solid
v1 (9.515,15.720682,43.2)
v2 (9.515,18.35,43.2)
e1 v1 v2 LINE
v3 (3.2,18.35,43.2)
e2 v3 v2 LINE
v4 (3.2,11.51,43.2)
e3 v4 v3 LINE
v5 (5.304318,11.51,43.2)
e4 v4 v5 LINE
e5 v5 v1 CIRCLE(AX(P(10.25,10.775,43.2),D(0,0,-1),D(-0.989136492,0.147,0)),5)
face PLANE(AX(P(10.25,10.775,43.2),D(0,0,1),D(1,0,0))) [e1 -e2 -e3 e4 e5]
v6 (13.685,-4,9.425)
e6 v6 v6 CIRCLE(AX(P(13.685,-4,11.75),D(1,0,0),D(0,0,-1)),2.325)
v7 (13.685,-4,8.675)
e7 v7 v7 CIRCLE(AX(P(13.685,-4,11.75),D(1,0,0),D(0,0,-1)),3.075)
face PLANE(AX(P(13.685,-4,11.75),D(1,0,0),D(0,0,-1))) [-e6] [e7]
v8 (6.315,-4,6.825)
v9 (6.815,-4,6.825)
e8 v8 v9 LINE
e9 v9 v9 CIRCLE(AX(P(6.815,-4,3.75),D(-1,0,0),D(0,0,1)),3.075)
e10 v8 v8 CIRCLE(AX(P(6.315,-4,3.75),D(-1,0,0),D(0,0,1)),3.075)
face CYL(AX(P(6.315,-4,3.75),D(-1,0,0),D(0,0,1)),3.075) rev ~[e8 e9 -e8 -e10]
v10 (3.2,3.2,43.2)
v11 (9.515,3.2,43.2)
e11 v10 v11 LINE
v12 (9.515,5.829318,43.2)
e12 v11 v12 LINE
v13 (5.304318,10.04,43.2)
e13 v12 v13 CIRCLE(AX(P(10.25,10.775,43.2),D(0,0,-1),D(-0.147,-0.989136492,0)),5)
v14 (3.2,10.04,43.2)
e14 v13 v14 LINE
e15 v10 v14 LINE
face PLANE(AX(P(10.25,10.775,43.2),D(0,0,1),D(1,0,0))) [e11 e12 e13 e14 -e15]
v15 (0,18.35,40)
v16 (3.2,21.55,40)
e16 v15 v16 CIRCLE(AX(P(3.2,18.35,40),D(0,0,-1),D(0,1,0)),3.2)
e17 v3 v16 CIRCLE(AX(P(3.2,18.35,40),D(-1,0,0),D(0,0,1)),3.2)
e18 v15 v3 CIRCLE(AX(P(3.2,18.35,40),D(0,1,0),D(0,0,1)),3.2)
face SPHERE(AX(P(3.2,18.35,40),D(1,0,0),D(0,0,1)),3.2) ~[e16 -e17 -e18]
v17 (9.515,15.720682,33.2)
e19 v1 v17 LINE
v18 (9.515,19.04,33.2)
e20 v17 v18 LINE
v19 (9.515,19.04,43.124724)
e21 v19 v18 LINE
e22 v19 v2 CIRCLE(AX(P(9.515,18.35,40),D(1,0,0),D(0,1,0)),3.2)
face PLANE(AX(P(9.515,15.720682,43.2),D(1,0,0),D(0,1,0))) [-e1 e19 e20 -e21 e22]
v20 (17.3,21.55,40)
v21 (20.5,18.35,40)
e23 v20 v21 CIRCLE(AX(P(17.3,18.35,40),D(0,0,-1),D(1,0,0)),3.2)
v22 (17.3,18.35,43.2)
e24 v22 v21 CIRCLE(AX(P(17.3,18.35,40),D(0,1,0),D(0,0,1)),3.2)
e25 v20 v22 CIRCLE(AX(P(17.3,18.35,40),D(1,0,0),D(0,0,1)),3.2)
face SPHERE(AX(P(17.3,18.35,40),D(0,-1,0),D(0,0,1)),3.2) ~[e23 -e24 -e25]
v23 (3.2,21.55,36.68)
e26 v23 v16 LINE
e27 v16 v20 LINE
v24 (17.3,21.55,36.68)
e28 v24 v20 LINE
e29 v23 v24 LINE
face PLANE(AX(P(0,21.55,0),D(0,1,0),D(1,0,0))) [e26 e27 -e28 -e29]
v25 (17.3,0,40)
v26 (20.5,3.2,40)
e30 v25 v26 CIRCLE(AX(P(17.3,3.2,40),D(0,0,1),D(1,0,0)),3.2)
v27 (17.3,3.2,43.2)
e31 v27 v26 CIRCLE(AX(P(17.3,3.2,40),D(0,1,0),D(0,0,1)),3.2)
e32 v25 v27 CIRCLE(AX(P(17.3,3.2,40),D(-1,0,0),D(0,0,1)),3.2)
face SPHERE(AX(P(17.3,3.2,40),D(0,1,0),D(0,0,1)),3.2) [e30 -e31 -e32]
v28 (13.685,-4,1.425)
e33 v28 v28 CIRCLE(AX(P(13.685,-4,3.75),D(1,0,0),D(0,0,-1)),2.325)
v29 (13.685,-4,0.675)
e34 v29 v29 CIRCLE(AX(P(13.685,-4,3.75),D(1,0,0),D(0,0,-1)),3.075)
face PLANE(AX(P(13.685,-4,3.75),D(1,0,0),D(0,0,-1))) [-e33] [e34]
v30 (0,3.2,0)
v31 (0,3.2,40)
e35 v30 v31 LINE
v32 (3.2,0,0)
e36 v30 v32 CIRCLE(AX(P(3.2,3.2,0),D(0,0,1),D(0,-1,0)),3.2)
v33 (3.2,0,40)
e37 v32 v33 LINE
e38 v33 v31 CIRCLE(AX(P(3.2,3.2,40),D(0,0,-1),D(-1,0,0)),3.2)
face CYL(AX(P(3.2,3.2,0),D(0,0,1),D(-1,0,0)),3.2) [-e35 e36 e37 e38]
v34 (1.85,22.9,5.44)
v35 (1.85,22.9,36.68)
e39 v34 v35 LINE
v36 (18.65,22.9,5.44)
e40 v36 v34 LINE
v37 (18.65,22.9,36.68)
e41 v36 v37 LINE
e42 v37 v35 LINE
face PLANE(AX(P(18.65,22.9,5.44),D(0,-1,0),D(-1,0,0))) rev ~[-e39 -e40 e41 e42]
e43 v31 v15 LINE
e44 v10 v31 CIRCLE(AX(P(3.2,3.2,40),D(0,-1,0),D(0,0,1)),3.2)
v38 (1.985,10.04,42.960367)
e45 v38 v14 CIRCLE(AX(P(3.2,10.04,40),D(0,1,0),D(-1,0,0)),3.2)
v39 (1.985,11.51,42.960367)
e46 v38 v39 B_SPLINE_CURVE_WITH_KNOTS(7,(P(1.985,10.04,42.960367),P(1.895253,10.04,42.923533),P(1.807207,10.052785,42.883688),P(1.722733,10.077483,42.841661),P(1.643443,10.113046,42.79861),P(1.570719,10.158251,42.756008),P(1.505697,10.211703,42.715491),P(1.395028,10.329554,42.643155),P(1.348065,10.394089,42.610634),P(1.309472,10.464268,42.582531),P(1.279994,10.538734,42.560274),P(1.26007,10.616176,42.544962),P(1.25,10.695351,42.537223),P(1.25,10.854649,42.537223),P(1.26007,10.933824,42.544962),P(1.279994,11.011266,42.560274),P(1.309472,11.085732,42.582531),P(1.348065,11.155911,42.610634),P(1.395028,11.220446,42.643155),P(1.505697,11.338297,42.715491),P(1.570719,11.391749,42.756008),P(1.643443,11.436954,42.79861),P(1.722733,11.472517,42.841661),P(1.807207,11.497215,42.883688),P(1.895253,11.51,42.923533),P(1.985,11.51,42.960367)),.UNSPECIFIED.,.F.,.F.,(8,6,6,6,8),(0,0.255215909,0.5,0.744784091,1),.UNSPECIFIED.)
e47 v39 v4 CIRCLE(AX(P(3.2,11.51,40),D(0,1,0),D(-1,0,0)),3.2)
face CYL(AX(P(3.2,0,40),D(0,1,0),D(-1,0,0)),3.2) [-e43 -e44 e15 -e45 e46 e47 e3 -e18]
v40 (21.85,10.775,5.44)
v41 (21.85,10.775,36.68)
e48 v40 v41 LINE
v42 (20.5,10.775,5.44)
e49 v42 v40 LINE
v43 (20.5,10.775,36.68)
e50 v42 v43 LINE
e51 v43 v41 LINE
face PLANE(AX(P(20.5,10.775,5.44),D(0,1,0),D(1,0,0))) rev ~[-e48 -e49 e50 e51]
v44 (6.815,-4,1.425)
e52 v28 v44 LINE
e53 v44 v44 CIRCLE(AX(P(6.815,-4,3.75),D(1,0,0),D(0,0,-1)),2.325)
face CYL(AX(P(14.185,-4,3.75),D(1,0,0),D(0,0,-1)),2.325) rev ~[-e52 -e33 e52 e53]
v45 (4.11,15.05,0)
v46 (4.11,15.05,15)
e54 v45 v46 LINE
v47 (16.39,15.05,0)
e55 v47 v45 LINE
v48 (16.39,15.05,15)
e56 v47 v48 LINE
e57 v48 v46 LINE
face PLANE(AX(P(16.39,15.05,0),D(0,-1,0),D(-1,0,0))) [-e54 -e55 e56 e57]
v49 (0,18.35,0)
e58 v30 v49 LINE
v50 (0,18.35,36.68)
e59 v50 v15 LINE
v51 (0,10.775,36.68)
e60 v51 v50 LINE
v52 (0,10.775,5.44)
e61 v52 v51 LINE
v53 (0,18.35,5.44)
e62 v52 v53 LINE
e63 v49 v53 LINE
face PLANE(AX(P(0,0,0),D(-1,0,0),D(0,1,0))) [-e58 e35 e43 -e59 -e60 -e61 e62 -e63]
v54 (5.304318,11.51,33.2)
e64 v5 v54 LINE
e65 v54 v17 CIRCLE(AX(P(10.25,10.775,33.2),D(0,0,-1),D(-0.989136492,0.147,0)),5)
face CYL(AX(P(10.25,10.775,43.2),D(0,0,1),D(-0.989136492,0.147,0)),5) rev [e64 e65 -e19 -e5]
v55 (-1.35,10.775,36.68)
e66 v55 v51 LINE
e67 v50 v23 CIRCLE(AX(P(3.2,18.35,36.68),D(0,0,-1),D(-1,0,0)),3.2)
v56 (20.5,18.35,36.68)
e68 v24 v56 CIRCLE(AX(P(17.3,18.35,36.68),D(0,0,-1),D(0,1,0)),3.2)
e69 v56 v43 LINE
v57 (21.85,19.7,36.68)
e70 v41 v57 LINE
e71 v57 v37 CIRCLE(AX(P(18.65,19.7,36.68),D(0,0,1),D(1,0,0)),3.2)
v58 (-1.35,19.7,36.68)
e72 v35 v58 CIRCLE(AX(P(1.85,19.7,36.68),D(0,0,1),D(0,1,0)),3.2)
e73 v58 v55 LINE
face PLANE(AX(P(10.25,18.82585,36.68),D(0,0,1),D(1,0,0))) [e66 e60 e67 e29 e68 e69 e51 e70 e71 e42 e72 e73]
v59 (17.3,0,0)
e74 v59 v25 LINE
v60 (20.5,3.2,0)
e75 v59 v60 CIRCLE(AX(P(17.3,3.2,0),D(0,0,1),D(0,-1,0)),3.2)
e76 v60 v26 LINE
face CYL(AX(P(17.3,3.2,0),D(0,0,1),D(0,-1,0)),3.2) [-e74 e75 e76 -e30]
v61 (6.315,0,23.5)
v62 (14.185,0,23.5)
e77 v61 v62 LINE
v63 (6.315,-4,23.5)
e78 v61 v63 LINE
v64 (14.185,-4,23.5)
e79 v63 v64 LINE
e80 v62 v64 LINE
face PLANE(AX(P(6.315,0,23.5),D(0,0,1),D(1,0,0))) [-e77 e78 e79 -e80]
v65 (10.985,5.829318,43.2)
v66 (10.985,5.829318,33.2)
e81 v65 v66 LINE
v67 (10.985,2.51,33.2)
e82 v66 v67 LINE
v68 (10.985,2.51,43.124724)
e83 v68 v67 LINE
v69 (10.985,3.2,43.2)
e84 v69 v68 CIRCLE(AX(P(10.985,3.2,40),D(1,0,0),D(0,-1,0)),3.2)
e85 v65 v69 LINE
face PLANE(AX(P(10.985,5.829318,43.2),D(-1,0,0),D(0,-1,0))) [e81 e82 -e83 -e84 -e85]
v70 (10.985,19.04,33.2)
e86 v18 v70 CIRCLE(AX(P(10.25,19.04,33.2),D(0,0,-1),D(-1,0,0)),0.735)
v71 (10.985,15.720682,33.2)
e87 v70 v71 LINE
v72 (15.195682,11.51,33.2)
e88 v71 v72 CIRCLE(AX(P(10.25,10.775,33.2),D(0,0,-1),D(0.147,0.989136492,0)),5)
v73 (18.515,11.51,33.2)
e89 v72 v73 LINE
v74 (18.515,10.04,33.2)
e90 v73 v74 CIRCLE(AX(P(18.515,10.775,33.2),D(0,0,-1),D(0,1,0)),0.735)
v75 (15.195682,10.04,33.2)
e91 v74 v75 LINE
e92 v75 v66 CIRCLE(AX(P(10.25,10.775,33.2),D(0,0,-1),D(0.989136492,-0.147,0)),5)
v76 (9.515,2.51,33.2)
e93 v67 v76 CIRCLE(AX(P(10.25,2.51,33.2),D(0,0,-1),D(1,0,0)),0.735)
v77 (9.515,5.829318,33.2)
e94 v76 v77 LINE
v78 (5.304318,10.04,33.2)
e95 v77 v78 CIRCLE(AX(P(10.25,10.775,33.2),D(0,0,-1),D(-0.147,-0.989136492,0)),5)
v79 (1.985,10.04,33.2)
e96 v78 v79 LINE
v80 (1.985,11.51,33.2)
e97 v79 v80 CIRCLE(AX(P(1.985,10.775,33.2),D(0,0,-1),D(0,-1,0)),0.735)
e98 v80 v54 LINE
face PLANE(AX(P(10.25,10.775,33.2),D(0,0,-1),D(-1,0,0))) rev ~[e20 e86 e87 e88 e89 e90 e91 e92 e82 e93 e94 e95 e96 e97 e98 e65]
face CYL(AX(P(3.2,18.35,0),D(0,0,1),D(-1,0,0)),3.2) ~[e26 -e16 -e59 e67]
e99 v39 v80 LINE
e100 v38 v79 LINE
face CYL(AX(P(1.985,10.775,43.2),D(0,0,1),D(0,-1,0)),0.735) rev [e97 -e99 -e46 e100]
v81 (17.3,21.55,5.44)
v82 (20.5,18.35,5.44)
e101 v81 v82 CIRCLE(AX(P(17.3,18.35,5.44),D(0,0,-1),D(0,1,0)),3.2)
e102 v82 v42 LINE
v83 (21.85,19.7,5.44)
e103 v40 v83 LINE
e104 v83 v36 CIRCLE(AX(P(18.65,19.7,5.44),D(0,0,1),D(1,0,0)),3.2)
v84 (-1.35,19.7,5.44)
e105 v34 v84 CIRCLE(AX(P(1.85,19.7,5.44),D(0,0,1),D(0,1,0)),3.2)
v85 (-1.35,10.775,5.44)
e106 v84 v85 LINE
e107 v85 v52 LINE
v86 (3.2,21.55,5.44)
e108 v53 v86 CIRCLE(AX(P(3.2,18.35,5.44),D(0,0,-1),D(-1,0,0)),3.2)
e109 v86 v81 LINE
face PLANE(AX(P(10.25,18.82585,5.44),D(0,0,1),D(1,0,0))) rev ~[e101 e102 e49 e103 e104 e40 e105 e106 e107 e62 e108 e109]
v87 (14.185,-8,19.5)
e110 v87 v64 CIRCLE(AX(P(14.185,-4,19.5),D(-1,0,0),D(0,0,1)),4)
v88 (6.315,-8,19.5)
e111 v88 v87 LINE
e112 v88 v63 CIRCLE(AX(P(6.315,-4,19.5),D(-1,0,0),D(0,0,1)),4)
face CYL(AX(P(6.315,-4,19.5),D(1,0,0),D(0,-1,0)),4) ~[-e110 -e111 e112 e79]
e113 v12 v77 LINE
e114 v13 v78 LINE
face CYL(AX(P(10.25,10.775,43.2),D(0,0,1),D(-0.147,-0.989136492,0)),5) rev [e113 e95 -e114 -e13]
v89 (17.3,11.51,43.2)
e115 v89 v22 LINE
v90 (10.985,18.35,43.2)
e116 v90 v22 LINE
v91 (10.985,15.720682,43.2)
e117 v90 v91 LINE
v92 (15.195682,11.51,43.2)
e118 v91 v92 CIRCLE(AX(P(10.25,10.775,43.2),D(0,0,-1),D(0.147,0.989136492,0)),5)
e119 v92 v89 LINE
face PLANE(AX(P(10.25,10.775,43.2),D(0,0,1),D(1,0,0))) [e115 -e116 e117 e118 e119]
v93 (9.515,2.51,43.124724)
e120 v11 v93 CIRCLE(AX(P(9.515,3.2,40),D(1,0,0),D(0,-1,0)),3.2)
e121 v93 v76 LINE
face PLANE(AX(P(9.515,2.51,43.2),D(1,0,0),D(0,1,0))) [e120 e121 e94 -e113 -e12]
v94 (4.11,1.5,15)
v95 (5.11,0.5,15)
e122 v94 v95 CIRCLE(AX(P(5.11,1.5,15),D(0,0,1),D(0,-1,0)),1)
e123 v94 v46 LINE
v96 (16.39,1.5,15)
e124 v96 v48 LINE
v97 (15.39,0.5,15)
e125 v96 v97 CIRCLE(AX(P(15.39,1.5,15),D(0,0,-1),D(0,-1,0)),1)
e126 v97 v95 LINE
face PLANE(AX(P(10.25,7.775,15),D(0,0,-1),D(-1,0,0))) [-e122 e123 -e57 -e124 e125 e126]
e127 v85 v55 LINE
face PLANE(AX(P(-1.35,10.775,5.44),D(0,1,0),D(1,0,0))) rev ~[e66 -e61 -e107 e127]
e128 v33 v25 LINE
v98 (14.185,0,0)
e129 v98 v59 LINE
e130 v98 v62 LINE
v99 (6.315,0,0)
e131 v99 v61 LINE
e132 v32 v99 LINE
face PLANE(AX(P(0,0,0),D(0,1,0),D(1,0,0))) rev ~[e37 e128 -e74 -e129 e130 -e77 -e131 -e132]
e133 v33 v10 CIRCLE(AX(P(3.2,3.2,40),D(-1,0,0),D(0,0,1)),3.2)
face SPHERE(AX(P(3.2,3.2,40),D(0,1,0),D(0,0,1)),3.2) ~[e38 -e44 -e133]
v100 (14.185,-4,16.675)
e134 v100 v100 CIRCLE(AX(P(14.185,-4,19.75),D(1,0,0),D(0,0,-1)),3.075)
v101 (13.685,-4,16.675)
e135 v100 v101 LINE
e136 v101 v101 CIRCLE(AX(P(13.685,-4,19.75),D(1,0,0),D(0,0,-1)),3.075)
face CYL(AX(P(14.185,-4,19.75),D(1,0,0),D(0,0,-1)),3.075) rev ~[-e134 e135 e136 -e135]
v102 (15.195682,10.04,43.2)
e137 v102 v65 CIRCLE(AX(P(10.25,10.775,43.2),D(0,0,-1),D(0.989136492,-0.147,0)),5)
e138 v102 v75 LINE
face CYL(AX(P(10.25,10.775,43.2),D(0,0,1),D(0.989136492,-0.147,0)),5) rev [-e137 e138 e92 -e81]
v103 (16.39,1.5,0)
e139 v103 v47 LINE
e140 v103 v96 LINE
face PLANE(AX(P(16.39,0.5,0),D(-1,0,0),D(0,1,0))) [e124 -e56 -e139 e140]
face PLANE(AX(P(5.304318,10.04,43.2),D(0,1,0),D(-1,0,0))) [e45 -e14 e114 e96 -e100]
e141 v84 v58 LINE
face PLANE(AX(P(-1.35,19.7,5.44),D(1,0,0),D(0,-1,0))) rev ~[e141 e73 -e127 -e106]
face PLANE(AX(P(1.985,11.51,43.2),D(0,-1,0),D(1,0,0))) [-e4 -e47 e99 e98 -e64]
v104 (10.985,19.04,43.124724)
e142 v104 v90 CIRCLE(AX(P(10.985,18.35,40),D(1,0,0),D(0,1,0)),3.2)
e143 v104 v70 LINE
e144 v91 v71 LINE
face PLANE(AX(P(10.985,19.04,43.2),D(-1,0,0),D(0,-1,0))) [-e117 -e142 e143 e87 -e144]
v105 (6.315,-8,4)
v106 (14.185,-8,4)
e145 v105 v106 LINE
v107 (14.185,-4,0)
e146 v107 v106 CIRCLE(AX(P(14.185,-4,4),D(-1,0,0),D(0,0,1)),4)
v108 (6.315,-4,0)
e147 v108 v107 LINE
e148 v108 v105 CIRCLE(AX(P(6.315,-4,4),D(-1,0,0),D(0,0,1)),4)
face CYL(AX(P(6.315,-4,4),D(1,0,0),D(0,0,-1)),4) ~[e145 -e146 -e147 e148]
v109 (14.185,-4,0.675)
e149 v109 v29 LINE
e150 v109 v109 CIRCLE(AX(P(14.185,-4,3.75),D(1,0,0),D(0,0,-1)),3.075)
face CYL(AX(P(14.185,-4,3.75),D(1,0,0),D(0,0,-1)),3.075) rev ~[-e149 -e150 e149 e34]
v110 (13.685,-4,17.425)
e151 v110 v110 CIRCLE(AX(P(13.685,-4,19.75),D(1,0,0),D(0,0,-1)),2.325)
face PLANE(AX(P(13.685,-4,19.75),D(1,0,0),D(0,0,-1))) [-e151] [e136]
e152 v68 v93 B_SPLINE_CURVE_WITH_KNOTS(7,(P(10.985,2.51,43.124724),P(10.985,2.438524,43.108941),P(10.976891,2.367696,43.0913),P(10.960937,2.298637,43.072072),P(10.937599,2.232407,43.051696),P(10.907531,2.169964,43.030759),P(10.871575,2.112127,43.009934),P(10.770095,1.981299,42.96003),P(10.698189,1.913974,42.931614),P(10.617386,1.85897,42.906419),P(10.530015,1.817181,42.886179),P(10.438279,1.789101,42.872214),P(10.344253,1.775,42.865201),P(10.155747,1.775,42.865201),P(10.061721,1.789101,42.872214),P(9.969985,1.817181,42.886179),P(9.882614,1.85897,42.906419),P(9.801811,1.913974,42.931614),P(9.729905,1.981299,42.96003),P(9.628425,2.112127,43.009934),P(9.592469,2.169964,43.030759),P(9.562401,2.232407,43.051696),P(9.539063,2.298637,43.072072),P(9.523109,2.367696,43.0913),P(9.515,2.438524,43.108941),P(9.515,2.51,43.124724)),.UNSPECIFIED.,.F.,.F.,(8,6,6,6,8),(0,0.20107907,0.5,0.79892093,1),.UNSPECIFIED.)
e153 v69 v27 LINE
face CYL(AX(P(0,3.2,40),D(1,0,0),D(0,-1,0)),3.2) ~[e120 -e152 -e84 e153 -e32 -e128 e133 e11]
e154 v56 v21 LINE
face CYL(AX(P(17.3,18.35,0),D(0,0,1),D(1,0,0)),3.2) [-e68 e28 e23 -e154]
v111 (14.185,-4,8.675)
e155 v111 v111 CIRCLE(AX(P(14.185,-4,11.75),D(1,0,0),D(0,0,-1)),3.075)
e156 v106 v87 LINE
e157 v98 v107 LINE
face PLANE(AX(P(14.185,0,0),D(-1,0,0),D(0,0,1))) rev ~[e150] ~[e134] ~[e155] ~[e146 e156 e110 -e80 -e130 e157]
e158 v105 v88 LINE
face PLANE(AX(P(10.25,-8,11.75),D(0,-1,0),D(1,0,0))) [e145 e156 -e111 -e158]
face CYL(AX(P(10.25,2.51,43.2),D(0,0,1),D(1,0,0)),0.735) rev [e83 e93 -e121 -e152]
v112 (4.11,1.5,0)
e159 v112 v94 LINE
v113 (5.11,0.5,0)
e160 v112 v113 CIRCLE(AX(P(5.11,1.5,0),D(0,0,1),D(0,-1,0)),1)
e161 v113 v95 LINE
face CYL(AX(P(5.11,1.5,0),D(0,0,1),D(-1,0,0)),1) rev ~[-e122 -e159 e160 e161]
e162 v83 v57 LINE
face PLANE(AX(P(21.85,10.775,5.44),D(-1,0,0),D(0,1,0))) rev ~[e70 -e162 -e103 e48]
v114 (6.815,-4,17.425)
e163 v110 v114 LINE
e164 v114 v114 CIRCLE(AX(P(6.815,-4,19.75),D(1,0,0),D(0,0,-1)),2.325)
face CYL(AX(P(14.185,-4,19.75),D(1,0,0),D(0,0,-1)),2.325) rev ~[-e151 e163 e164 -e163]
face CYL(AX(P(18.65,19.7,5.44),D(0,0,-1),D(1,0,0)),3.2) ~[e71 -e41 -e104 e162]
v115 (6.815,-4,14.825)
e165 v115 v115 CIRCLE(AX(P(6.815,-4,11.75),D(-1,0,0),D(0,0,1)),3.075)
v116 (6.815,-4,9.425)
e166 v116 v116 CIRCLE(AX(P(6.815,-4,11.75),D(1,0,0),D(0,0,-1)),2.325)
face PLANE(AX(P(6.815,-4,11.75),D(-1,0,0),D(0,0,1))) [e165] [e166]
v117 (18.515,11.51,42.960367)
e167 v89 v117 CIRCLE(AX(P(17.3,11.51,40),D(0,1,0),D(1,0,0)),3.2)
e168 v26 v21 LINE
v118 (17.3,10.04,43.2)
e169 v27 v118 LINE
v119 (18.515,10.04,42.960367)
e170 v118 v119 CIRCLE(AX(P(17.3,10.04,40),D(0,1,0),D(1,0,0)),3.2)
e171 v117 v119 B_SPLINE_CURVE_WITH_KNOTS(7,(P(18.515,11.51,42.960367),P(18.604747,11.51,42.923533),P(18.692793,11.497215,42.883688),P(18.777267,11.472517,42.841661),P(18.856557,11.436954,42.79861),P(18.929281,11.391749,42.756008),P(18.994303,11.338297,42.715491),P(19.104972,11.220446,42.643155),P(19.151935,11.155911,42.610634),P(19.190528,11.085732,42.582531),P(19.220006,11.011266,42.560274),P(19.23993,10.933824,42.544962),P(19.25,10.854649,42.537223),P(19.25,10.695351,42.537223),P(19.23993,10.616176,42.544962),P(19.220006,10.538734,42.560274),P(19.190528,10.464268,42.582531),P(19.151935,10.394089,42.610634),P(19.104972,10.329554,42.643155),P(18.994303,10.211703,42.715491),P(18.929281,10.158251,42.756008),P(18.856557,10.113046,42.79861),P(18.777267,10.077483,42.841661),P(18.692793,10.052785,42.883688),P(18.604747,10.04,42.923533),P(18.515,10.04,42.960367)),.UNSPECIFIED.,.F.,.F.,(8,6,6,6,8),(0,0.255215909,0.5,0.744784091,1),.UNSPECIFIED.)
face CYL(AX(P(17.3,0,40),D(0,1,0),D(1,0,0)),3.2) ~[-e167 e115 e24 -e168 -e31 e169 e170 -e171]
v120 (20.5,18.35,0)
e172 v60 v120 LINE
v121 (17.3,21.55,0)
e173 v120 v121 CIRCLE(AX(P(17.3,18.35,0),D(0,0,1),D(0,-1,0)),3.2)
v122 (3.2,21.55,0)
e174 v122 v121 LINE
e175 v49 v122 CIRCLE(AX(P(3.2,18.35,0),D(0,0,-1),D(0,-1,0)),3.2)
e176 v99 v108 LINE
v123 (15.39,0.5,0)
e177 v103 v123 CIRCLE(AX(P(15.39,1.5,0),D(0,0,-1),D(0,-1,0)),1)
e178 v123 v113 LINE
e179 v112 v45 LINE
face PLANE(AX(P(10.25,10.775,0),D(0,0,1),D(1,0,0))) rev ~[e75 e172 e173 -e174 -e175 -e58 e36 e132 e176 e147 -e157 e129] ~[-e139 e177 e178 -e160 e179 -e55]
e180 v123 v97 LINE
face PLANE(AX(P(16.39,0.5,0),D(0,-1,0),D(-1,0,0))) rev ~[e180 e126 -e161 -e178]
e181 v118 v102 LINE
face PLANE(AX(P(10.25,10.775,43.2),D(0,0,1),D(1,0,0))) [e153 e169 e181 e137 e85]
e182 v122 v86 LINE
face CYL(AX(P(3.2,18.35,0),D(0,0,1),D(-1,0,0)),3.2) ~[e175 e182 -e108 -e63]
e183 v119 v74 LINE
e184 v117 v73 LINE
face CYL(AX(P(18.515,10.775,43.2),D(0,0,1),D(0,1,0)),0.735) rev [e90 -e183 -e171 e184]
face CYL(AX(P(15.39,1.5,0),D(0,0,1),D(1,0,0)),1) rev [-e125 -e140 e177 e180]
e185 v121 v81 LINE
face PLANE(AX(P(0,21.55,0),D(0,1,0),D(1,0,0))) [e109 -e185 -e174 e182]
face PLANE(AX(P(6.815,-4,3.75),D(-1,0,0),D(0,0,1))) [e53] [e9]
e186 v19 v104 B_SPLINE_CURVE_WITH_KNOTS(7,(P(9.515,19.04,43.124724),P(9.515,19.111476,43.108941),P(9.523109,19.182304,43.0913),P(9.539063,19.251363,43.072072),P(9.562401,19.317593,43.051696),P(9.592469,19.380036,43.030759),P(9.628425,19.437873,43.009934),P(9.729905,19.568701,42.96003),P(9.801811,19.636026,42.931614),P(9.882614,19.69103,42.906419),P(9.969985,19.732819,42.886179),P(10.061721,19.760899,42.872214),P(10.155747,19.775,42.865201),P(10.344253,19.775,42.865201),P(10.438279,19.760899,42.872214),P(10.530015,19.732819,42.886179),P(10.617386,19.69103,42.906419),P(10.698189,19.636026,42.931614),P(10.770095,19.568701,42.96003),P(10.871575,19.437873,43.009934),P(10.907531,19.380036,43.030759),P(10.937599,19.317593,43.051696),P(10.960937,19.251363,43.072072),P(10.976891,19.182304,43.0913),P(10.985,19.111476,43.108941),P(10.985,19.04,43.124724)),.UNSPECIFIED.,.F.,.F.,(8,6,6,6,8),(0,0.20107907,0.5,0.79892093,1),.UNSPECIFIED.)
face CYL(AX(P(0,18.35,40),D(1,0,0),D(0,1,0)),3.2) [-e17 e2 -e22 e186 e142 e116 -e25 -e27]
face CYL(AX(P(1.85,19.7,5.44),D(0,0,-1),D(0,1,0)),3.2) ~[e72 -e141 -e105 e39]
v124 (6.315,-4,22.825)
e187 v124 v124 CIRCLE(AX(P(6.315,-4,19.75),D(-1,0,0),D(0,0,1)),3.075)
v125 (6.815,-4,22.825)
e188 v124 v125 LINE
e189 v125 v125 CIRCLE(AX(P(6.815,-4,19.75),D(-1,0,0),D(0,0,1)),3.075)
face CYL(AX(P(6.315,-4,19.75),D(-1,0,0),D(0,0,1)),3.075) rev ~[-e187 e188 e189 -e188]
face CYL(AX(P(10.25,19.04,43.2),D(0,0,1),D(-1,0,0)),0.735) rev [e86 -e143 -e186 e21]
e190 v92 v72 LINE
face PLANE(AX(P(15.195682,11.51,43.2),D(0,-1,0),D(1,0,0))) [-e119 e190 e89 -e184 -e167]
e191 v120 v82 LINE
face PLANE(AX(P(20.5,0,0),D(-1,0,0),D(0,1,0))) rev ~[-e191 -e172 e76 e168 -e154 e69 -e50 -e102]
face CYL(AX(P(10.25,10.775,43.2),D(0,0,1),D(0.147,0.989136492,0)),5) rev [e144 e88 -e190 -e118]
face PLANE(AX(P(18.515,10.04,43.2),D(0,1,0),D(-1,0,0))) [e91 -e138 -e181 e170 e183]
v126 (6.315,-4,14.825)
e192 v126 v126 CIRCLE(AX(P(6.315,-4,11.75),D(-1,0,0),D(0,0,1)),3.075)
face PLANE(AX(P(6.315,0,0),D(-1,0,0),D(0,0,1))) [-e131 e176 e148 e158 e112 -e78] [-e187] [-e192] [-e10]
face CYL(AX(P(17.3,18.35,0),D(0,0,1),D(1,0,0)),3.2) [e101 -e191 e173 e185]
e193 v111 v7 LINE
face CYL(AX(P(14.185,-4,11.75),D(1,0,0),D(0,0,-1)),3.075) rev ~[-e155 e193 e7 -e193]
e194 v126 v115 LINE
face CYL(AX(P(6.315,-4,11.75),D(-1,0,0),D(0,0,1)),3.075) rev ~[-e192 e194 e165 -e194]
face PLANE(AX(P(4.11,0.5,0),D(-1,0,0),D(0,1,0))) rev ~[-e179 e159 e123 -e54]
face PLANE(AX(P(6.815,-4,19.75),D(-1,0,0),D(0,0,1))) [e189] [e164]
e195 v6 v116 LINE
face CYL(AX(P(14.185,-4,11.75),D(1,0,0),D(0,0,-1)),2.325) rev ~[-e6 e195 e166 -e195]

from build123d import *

# Parameters (mm, degrees)
SKETCH1_W           = 20.5
SKETCH1_H           = 21.55
BOSS_EXTRUDE1_DEPTH = 43.2
FILLET1_R           = 3.2
BOSS_EXTRUDE2_DEPTH = 31.24
CUT_EXTRUDE1_DEPTH  = 10
SKETCH4_W           = 7.87
SKETCH4_H           = 23.5
BOSS_EXTRUDE3_DEPTH = 8
CUT_EXTRUDE2_REACH  = 17.535
SKETCH5_R           = 2.325
SKETCH7_R           = 3.075
CUT_EXTRUDE3_DEPTH  = 0.5
SKETCH8_R           = 3.075
CUT_EXTRUDE5_DEPTH  = 0.5
FILLET2_R           = 4
SKETCH9_W           = 12.28
SKETCH9_H           = 14.55
CUT_EXTRUDE6_DEPTH  = 15
FILLET3_R           = 1


with BuildPart() as part:
    # Sketch1 → Boss-Extrude1 (new body)
    with BuildSketch(Plane.XY):
        with Locations((10.25, 10.775)):
            Rectangle(SKETCH1_W, SKETCH1_H)
    extrude(amount=BOSS_EXTRUDE1_DEPTH)

    # Fillet1
    fillet1_edges = [part.edges().sort_by_distance(p)[0] for p in [
        (20.5, 10.775, 43.2),
        (10.25, 21.55, 43.2),
        (0, 10.775, 43.2),
        (10.25, 0, 43.2),
        (0, 21.55, 21.6),
        (20.5, 21.55, 21.6),
        (20.5, 0, 21.6),
        (0, 0, 21.6),
    ]]
    fillet(fillet1_edges, radius=FILLET1_R)

    # Sketch2 → Boss-Extrude2 (add)
    with BuildSketch(Plane(origin=(0, 0, 5.44), x_dir=(-1, 0, 0), z_dir=(0, 0, -1))):
        with BuildLine():
            Line((-20.5, 10.775), (-21.85, 10.775))
            Line((-21.85, 10.775), (-21.85, 19.7))
            ThreePointArc((-21.85, 19.7), (-20.9127417, 21.9627417), (-18.65, 22.9))
            Line((-18.65, 22.9), (-1.85, 22.9))
            ThreePointArc((-1.85, 22.9), (0.4127417, 21.9627417), (1.35, 19.7))
            Line((1.35, 19.7), (1.35, 10.775))
            Line((1.35, 10.775), (0, 10.775))
            Line((0, 10.775), (0, 18.35))
            ThreePointArc((0, 18.35), (-0.9372583, 20.6127417), (-3.2, 21.55))
            Line((-3.2, 21.55), (-17.3, 21.55))
            ThreePointArc((-17.3, 21.55), (-19.5627417, 20.6127417), (-20.5, 18.35))
            Line((-20.5, 18.35), (-20.5, 10.775))
        make_face()
    extrude(amount=-BOSS_EXTRUDE2_DEPTH)

    # Sketch3 → Cut-Extrude1 (cut)
    with BuildSketch(Plane.XY.offset(43.2)):
        with BuildLine():
            Line((15.19568246, 11.51), (18.515, 11.51))
            ThreePointArc((18.515, 11.51), (19.25, 10.775), (18.515, 10.04))
            Line((18.515, 10.04), (15.19568246, 10.04))
            ThreePointArc((15.19568246, 10.04), (13.785533906, 7.239466094), (10.985, 5.82931754))
            Line((10.985, 5.82931754), (10.985, 2.51))
            ThreePointArc((10.985, 2.51), (10.25, 1.775), (9.515, 2.51))
            Line((9.515, 2.51), (9.515, 5.82931754))
            ThreePointArc((9.515, 5.82931754), (6.714466094, 7.239466094), (5.30431754, 10.04))
            Line((5.30431754, 10.04), (1.985, 10.04))
            ThreePointArc((1.985, 10.04), (1.25, 10.775), (1.985, 11.51))
            Line((1.985, 11.51), (5.30431754, 11.51))
            ThreePointArc((5.30431754, 11.51), (6.714466094, 14.310533906), (9.515, 15.72068246))
            Line((9.515, 15.72068246), (9.515, 19.04))
            ThreePointArc((9.515, 19.04), (10.25, 19.775), (10.985, 19.04))
            Line((10.985, 19.04), (10.985, 15.72068246))
            ThreePointArc((10.985, 15.72068246), (13.785533906, 14.310533906), (15.19568246, 11.51))
        make_face()
    extrude(amount=-CUT_EXTRUDE1_DEPTH, mode=Mode.SUBTRACT)

    # Sketch4 → Boss-Extrude3 (add)
    with BuildSketch(Plane.XZ):
        with Locations((10.25, 11.75)):
            Rectangle(SKETCH4_W, SKETCH4_H)
    extrude(amount=BOSS_EXTRUDE3_DEPTH)

    # Sketch5 → Cut-Extrude2 (cut, up to next)
    with BuildSketch(Plane(origin=(14.185, 0, 0), x_dir=(0, 0, -1), z_dir=(1, 0, 0)), mode=Mode.PRIVATE) as cut_extrude2_sk1:
        with Locations((-19.75, -4)):
            Circle(SKETCH5_R)
    cut_extrude2_tool1 = extrude(cut_extrude2_sk1.sketch, amount=-CUT_EXTRUDE2_REACH, mode=Mode.PRIVATE) & part.part
    add(cut_extrude2_tool1.solids().sort_by_distance((14.185, -4, 19.75))[0], mode=Mode.SUBTRACT)
    # Sketch5 → Cut-Extrude2 (cut, up to next)
    with BuildSketch(Plane(origin=(14.185, 0, 0), x_dir=(0, 0, -1), z_dir=(1, 0, 0)), mode=Mode.PRIVATE) as cut_extrude2_sk2:
        with Locations((-11.75, -4)):
            Circle(SKETCH5_R)
    cut_extrude2_tool2 = extrude(cut_extrude2_sk2.sketch, amount=-CUT_EXTRUDE2_REACH, mode=Mode.PRIVATE) & part.part
    add(cut_extrude2_tool2.solids().sort_by_distance((14.185, -4, 11.75))[0], mode=Mode.SUBTRACT)
    # Sketch5 → Cut-Extrude2 (cut, up to next)
    with BuildSketch(Plane(origin=(14.185, 0, 0), x_dir=(0, 0, -1), z_dir=(1, 0, 0)), mode=Mode.PRIVATE) as cut_extrude2_sk3:
        with Locations((-3.75, -4)):
            Circle(SKETCH5_R)
    cut_extrude2_tool3 = extrude(cut_extrude2_sk3.sketch, amount=-CUT_EXTRUDE2_REACH, mode=Mode.PRIVATE) & part.part
    add(cut_extrude2_tool3.solids().sort_by_distance((14.185, -4, 3.75))[0], mode=Mode.SUBTRACT)

    # Sketch7 → Cut-Extrude3 (cut)
    with BuildSketch(Plane(origin=(14.185, 0, 0), x_dir=(0, 0, -1), z_dir=(1, 0, 0))):
        with Locations((-19.75, -4)):
            Circle(SKETCH7_R)
        with Locations((-11.75, -4)):
            Circle(SKETCH7_R)
        with Locations((-3.75, -4)):
            Circle(SKETCH7_R)
    extrude(amount=-CUT_EXTRUDE3_DEPTH, mode=Mode.SUBTRACT)

    # Sketch8 → Cut-Extrude5 (cut)
    with BuildSketch(Plane.ZY.offset(-6.315)):
        with Locations((3.75, -4)):
            Circle(SKETCH8_R)
        with Locations((11.75, -4)):
            Circle(SKETCH8_R)
        with Locations((19.75, -4)):
            Circle(SKETCH8_R)
    extrude(amount=-CUT_EXTRUDE5_DEPTH, mode=Mode.SUBTRACT)

    # Fillet2
    fillet2_edges = [part.edges().sort_by_distance(p)[0] for p in [
        (10.25, -8, 0),
        (10.25, -8, 23.5),
    ]]
    fillet(fillet2_edges, radius=FILLET2_R)

    # Sketch9 → Cut-Extrude6 (cut)
    with BuildSketch(Plane(origin=(0, 0, 0), x_dir=(-1, 0, 0), z_dir=(0, 0, -1))):
        with Locations((-10.25, 7.775)):
            Rectangle(SKETCH9_W, SKETCH9_H)
    extrude(amount=-CUT_EXTRUDE6_DEPTH, mode=Mode.SUBTRACT)

    # Fillet3
    fillet3_edges = [part.edges().sort_by_distance(p)[0] for p in [
        (16.39, 0.5, 7.5),
        (4.11, 0.5, 7.5),
    ]]
    fillet(fillet3_edges, radius=FILLET3_R)


solid = part.part
